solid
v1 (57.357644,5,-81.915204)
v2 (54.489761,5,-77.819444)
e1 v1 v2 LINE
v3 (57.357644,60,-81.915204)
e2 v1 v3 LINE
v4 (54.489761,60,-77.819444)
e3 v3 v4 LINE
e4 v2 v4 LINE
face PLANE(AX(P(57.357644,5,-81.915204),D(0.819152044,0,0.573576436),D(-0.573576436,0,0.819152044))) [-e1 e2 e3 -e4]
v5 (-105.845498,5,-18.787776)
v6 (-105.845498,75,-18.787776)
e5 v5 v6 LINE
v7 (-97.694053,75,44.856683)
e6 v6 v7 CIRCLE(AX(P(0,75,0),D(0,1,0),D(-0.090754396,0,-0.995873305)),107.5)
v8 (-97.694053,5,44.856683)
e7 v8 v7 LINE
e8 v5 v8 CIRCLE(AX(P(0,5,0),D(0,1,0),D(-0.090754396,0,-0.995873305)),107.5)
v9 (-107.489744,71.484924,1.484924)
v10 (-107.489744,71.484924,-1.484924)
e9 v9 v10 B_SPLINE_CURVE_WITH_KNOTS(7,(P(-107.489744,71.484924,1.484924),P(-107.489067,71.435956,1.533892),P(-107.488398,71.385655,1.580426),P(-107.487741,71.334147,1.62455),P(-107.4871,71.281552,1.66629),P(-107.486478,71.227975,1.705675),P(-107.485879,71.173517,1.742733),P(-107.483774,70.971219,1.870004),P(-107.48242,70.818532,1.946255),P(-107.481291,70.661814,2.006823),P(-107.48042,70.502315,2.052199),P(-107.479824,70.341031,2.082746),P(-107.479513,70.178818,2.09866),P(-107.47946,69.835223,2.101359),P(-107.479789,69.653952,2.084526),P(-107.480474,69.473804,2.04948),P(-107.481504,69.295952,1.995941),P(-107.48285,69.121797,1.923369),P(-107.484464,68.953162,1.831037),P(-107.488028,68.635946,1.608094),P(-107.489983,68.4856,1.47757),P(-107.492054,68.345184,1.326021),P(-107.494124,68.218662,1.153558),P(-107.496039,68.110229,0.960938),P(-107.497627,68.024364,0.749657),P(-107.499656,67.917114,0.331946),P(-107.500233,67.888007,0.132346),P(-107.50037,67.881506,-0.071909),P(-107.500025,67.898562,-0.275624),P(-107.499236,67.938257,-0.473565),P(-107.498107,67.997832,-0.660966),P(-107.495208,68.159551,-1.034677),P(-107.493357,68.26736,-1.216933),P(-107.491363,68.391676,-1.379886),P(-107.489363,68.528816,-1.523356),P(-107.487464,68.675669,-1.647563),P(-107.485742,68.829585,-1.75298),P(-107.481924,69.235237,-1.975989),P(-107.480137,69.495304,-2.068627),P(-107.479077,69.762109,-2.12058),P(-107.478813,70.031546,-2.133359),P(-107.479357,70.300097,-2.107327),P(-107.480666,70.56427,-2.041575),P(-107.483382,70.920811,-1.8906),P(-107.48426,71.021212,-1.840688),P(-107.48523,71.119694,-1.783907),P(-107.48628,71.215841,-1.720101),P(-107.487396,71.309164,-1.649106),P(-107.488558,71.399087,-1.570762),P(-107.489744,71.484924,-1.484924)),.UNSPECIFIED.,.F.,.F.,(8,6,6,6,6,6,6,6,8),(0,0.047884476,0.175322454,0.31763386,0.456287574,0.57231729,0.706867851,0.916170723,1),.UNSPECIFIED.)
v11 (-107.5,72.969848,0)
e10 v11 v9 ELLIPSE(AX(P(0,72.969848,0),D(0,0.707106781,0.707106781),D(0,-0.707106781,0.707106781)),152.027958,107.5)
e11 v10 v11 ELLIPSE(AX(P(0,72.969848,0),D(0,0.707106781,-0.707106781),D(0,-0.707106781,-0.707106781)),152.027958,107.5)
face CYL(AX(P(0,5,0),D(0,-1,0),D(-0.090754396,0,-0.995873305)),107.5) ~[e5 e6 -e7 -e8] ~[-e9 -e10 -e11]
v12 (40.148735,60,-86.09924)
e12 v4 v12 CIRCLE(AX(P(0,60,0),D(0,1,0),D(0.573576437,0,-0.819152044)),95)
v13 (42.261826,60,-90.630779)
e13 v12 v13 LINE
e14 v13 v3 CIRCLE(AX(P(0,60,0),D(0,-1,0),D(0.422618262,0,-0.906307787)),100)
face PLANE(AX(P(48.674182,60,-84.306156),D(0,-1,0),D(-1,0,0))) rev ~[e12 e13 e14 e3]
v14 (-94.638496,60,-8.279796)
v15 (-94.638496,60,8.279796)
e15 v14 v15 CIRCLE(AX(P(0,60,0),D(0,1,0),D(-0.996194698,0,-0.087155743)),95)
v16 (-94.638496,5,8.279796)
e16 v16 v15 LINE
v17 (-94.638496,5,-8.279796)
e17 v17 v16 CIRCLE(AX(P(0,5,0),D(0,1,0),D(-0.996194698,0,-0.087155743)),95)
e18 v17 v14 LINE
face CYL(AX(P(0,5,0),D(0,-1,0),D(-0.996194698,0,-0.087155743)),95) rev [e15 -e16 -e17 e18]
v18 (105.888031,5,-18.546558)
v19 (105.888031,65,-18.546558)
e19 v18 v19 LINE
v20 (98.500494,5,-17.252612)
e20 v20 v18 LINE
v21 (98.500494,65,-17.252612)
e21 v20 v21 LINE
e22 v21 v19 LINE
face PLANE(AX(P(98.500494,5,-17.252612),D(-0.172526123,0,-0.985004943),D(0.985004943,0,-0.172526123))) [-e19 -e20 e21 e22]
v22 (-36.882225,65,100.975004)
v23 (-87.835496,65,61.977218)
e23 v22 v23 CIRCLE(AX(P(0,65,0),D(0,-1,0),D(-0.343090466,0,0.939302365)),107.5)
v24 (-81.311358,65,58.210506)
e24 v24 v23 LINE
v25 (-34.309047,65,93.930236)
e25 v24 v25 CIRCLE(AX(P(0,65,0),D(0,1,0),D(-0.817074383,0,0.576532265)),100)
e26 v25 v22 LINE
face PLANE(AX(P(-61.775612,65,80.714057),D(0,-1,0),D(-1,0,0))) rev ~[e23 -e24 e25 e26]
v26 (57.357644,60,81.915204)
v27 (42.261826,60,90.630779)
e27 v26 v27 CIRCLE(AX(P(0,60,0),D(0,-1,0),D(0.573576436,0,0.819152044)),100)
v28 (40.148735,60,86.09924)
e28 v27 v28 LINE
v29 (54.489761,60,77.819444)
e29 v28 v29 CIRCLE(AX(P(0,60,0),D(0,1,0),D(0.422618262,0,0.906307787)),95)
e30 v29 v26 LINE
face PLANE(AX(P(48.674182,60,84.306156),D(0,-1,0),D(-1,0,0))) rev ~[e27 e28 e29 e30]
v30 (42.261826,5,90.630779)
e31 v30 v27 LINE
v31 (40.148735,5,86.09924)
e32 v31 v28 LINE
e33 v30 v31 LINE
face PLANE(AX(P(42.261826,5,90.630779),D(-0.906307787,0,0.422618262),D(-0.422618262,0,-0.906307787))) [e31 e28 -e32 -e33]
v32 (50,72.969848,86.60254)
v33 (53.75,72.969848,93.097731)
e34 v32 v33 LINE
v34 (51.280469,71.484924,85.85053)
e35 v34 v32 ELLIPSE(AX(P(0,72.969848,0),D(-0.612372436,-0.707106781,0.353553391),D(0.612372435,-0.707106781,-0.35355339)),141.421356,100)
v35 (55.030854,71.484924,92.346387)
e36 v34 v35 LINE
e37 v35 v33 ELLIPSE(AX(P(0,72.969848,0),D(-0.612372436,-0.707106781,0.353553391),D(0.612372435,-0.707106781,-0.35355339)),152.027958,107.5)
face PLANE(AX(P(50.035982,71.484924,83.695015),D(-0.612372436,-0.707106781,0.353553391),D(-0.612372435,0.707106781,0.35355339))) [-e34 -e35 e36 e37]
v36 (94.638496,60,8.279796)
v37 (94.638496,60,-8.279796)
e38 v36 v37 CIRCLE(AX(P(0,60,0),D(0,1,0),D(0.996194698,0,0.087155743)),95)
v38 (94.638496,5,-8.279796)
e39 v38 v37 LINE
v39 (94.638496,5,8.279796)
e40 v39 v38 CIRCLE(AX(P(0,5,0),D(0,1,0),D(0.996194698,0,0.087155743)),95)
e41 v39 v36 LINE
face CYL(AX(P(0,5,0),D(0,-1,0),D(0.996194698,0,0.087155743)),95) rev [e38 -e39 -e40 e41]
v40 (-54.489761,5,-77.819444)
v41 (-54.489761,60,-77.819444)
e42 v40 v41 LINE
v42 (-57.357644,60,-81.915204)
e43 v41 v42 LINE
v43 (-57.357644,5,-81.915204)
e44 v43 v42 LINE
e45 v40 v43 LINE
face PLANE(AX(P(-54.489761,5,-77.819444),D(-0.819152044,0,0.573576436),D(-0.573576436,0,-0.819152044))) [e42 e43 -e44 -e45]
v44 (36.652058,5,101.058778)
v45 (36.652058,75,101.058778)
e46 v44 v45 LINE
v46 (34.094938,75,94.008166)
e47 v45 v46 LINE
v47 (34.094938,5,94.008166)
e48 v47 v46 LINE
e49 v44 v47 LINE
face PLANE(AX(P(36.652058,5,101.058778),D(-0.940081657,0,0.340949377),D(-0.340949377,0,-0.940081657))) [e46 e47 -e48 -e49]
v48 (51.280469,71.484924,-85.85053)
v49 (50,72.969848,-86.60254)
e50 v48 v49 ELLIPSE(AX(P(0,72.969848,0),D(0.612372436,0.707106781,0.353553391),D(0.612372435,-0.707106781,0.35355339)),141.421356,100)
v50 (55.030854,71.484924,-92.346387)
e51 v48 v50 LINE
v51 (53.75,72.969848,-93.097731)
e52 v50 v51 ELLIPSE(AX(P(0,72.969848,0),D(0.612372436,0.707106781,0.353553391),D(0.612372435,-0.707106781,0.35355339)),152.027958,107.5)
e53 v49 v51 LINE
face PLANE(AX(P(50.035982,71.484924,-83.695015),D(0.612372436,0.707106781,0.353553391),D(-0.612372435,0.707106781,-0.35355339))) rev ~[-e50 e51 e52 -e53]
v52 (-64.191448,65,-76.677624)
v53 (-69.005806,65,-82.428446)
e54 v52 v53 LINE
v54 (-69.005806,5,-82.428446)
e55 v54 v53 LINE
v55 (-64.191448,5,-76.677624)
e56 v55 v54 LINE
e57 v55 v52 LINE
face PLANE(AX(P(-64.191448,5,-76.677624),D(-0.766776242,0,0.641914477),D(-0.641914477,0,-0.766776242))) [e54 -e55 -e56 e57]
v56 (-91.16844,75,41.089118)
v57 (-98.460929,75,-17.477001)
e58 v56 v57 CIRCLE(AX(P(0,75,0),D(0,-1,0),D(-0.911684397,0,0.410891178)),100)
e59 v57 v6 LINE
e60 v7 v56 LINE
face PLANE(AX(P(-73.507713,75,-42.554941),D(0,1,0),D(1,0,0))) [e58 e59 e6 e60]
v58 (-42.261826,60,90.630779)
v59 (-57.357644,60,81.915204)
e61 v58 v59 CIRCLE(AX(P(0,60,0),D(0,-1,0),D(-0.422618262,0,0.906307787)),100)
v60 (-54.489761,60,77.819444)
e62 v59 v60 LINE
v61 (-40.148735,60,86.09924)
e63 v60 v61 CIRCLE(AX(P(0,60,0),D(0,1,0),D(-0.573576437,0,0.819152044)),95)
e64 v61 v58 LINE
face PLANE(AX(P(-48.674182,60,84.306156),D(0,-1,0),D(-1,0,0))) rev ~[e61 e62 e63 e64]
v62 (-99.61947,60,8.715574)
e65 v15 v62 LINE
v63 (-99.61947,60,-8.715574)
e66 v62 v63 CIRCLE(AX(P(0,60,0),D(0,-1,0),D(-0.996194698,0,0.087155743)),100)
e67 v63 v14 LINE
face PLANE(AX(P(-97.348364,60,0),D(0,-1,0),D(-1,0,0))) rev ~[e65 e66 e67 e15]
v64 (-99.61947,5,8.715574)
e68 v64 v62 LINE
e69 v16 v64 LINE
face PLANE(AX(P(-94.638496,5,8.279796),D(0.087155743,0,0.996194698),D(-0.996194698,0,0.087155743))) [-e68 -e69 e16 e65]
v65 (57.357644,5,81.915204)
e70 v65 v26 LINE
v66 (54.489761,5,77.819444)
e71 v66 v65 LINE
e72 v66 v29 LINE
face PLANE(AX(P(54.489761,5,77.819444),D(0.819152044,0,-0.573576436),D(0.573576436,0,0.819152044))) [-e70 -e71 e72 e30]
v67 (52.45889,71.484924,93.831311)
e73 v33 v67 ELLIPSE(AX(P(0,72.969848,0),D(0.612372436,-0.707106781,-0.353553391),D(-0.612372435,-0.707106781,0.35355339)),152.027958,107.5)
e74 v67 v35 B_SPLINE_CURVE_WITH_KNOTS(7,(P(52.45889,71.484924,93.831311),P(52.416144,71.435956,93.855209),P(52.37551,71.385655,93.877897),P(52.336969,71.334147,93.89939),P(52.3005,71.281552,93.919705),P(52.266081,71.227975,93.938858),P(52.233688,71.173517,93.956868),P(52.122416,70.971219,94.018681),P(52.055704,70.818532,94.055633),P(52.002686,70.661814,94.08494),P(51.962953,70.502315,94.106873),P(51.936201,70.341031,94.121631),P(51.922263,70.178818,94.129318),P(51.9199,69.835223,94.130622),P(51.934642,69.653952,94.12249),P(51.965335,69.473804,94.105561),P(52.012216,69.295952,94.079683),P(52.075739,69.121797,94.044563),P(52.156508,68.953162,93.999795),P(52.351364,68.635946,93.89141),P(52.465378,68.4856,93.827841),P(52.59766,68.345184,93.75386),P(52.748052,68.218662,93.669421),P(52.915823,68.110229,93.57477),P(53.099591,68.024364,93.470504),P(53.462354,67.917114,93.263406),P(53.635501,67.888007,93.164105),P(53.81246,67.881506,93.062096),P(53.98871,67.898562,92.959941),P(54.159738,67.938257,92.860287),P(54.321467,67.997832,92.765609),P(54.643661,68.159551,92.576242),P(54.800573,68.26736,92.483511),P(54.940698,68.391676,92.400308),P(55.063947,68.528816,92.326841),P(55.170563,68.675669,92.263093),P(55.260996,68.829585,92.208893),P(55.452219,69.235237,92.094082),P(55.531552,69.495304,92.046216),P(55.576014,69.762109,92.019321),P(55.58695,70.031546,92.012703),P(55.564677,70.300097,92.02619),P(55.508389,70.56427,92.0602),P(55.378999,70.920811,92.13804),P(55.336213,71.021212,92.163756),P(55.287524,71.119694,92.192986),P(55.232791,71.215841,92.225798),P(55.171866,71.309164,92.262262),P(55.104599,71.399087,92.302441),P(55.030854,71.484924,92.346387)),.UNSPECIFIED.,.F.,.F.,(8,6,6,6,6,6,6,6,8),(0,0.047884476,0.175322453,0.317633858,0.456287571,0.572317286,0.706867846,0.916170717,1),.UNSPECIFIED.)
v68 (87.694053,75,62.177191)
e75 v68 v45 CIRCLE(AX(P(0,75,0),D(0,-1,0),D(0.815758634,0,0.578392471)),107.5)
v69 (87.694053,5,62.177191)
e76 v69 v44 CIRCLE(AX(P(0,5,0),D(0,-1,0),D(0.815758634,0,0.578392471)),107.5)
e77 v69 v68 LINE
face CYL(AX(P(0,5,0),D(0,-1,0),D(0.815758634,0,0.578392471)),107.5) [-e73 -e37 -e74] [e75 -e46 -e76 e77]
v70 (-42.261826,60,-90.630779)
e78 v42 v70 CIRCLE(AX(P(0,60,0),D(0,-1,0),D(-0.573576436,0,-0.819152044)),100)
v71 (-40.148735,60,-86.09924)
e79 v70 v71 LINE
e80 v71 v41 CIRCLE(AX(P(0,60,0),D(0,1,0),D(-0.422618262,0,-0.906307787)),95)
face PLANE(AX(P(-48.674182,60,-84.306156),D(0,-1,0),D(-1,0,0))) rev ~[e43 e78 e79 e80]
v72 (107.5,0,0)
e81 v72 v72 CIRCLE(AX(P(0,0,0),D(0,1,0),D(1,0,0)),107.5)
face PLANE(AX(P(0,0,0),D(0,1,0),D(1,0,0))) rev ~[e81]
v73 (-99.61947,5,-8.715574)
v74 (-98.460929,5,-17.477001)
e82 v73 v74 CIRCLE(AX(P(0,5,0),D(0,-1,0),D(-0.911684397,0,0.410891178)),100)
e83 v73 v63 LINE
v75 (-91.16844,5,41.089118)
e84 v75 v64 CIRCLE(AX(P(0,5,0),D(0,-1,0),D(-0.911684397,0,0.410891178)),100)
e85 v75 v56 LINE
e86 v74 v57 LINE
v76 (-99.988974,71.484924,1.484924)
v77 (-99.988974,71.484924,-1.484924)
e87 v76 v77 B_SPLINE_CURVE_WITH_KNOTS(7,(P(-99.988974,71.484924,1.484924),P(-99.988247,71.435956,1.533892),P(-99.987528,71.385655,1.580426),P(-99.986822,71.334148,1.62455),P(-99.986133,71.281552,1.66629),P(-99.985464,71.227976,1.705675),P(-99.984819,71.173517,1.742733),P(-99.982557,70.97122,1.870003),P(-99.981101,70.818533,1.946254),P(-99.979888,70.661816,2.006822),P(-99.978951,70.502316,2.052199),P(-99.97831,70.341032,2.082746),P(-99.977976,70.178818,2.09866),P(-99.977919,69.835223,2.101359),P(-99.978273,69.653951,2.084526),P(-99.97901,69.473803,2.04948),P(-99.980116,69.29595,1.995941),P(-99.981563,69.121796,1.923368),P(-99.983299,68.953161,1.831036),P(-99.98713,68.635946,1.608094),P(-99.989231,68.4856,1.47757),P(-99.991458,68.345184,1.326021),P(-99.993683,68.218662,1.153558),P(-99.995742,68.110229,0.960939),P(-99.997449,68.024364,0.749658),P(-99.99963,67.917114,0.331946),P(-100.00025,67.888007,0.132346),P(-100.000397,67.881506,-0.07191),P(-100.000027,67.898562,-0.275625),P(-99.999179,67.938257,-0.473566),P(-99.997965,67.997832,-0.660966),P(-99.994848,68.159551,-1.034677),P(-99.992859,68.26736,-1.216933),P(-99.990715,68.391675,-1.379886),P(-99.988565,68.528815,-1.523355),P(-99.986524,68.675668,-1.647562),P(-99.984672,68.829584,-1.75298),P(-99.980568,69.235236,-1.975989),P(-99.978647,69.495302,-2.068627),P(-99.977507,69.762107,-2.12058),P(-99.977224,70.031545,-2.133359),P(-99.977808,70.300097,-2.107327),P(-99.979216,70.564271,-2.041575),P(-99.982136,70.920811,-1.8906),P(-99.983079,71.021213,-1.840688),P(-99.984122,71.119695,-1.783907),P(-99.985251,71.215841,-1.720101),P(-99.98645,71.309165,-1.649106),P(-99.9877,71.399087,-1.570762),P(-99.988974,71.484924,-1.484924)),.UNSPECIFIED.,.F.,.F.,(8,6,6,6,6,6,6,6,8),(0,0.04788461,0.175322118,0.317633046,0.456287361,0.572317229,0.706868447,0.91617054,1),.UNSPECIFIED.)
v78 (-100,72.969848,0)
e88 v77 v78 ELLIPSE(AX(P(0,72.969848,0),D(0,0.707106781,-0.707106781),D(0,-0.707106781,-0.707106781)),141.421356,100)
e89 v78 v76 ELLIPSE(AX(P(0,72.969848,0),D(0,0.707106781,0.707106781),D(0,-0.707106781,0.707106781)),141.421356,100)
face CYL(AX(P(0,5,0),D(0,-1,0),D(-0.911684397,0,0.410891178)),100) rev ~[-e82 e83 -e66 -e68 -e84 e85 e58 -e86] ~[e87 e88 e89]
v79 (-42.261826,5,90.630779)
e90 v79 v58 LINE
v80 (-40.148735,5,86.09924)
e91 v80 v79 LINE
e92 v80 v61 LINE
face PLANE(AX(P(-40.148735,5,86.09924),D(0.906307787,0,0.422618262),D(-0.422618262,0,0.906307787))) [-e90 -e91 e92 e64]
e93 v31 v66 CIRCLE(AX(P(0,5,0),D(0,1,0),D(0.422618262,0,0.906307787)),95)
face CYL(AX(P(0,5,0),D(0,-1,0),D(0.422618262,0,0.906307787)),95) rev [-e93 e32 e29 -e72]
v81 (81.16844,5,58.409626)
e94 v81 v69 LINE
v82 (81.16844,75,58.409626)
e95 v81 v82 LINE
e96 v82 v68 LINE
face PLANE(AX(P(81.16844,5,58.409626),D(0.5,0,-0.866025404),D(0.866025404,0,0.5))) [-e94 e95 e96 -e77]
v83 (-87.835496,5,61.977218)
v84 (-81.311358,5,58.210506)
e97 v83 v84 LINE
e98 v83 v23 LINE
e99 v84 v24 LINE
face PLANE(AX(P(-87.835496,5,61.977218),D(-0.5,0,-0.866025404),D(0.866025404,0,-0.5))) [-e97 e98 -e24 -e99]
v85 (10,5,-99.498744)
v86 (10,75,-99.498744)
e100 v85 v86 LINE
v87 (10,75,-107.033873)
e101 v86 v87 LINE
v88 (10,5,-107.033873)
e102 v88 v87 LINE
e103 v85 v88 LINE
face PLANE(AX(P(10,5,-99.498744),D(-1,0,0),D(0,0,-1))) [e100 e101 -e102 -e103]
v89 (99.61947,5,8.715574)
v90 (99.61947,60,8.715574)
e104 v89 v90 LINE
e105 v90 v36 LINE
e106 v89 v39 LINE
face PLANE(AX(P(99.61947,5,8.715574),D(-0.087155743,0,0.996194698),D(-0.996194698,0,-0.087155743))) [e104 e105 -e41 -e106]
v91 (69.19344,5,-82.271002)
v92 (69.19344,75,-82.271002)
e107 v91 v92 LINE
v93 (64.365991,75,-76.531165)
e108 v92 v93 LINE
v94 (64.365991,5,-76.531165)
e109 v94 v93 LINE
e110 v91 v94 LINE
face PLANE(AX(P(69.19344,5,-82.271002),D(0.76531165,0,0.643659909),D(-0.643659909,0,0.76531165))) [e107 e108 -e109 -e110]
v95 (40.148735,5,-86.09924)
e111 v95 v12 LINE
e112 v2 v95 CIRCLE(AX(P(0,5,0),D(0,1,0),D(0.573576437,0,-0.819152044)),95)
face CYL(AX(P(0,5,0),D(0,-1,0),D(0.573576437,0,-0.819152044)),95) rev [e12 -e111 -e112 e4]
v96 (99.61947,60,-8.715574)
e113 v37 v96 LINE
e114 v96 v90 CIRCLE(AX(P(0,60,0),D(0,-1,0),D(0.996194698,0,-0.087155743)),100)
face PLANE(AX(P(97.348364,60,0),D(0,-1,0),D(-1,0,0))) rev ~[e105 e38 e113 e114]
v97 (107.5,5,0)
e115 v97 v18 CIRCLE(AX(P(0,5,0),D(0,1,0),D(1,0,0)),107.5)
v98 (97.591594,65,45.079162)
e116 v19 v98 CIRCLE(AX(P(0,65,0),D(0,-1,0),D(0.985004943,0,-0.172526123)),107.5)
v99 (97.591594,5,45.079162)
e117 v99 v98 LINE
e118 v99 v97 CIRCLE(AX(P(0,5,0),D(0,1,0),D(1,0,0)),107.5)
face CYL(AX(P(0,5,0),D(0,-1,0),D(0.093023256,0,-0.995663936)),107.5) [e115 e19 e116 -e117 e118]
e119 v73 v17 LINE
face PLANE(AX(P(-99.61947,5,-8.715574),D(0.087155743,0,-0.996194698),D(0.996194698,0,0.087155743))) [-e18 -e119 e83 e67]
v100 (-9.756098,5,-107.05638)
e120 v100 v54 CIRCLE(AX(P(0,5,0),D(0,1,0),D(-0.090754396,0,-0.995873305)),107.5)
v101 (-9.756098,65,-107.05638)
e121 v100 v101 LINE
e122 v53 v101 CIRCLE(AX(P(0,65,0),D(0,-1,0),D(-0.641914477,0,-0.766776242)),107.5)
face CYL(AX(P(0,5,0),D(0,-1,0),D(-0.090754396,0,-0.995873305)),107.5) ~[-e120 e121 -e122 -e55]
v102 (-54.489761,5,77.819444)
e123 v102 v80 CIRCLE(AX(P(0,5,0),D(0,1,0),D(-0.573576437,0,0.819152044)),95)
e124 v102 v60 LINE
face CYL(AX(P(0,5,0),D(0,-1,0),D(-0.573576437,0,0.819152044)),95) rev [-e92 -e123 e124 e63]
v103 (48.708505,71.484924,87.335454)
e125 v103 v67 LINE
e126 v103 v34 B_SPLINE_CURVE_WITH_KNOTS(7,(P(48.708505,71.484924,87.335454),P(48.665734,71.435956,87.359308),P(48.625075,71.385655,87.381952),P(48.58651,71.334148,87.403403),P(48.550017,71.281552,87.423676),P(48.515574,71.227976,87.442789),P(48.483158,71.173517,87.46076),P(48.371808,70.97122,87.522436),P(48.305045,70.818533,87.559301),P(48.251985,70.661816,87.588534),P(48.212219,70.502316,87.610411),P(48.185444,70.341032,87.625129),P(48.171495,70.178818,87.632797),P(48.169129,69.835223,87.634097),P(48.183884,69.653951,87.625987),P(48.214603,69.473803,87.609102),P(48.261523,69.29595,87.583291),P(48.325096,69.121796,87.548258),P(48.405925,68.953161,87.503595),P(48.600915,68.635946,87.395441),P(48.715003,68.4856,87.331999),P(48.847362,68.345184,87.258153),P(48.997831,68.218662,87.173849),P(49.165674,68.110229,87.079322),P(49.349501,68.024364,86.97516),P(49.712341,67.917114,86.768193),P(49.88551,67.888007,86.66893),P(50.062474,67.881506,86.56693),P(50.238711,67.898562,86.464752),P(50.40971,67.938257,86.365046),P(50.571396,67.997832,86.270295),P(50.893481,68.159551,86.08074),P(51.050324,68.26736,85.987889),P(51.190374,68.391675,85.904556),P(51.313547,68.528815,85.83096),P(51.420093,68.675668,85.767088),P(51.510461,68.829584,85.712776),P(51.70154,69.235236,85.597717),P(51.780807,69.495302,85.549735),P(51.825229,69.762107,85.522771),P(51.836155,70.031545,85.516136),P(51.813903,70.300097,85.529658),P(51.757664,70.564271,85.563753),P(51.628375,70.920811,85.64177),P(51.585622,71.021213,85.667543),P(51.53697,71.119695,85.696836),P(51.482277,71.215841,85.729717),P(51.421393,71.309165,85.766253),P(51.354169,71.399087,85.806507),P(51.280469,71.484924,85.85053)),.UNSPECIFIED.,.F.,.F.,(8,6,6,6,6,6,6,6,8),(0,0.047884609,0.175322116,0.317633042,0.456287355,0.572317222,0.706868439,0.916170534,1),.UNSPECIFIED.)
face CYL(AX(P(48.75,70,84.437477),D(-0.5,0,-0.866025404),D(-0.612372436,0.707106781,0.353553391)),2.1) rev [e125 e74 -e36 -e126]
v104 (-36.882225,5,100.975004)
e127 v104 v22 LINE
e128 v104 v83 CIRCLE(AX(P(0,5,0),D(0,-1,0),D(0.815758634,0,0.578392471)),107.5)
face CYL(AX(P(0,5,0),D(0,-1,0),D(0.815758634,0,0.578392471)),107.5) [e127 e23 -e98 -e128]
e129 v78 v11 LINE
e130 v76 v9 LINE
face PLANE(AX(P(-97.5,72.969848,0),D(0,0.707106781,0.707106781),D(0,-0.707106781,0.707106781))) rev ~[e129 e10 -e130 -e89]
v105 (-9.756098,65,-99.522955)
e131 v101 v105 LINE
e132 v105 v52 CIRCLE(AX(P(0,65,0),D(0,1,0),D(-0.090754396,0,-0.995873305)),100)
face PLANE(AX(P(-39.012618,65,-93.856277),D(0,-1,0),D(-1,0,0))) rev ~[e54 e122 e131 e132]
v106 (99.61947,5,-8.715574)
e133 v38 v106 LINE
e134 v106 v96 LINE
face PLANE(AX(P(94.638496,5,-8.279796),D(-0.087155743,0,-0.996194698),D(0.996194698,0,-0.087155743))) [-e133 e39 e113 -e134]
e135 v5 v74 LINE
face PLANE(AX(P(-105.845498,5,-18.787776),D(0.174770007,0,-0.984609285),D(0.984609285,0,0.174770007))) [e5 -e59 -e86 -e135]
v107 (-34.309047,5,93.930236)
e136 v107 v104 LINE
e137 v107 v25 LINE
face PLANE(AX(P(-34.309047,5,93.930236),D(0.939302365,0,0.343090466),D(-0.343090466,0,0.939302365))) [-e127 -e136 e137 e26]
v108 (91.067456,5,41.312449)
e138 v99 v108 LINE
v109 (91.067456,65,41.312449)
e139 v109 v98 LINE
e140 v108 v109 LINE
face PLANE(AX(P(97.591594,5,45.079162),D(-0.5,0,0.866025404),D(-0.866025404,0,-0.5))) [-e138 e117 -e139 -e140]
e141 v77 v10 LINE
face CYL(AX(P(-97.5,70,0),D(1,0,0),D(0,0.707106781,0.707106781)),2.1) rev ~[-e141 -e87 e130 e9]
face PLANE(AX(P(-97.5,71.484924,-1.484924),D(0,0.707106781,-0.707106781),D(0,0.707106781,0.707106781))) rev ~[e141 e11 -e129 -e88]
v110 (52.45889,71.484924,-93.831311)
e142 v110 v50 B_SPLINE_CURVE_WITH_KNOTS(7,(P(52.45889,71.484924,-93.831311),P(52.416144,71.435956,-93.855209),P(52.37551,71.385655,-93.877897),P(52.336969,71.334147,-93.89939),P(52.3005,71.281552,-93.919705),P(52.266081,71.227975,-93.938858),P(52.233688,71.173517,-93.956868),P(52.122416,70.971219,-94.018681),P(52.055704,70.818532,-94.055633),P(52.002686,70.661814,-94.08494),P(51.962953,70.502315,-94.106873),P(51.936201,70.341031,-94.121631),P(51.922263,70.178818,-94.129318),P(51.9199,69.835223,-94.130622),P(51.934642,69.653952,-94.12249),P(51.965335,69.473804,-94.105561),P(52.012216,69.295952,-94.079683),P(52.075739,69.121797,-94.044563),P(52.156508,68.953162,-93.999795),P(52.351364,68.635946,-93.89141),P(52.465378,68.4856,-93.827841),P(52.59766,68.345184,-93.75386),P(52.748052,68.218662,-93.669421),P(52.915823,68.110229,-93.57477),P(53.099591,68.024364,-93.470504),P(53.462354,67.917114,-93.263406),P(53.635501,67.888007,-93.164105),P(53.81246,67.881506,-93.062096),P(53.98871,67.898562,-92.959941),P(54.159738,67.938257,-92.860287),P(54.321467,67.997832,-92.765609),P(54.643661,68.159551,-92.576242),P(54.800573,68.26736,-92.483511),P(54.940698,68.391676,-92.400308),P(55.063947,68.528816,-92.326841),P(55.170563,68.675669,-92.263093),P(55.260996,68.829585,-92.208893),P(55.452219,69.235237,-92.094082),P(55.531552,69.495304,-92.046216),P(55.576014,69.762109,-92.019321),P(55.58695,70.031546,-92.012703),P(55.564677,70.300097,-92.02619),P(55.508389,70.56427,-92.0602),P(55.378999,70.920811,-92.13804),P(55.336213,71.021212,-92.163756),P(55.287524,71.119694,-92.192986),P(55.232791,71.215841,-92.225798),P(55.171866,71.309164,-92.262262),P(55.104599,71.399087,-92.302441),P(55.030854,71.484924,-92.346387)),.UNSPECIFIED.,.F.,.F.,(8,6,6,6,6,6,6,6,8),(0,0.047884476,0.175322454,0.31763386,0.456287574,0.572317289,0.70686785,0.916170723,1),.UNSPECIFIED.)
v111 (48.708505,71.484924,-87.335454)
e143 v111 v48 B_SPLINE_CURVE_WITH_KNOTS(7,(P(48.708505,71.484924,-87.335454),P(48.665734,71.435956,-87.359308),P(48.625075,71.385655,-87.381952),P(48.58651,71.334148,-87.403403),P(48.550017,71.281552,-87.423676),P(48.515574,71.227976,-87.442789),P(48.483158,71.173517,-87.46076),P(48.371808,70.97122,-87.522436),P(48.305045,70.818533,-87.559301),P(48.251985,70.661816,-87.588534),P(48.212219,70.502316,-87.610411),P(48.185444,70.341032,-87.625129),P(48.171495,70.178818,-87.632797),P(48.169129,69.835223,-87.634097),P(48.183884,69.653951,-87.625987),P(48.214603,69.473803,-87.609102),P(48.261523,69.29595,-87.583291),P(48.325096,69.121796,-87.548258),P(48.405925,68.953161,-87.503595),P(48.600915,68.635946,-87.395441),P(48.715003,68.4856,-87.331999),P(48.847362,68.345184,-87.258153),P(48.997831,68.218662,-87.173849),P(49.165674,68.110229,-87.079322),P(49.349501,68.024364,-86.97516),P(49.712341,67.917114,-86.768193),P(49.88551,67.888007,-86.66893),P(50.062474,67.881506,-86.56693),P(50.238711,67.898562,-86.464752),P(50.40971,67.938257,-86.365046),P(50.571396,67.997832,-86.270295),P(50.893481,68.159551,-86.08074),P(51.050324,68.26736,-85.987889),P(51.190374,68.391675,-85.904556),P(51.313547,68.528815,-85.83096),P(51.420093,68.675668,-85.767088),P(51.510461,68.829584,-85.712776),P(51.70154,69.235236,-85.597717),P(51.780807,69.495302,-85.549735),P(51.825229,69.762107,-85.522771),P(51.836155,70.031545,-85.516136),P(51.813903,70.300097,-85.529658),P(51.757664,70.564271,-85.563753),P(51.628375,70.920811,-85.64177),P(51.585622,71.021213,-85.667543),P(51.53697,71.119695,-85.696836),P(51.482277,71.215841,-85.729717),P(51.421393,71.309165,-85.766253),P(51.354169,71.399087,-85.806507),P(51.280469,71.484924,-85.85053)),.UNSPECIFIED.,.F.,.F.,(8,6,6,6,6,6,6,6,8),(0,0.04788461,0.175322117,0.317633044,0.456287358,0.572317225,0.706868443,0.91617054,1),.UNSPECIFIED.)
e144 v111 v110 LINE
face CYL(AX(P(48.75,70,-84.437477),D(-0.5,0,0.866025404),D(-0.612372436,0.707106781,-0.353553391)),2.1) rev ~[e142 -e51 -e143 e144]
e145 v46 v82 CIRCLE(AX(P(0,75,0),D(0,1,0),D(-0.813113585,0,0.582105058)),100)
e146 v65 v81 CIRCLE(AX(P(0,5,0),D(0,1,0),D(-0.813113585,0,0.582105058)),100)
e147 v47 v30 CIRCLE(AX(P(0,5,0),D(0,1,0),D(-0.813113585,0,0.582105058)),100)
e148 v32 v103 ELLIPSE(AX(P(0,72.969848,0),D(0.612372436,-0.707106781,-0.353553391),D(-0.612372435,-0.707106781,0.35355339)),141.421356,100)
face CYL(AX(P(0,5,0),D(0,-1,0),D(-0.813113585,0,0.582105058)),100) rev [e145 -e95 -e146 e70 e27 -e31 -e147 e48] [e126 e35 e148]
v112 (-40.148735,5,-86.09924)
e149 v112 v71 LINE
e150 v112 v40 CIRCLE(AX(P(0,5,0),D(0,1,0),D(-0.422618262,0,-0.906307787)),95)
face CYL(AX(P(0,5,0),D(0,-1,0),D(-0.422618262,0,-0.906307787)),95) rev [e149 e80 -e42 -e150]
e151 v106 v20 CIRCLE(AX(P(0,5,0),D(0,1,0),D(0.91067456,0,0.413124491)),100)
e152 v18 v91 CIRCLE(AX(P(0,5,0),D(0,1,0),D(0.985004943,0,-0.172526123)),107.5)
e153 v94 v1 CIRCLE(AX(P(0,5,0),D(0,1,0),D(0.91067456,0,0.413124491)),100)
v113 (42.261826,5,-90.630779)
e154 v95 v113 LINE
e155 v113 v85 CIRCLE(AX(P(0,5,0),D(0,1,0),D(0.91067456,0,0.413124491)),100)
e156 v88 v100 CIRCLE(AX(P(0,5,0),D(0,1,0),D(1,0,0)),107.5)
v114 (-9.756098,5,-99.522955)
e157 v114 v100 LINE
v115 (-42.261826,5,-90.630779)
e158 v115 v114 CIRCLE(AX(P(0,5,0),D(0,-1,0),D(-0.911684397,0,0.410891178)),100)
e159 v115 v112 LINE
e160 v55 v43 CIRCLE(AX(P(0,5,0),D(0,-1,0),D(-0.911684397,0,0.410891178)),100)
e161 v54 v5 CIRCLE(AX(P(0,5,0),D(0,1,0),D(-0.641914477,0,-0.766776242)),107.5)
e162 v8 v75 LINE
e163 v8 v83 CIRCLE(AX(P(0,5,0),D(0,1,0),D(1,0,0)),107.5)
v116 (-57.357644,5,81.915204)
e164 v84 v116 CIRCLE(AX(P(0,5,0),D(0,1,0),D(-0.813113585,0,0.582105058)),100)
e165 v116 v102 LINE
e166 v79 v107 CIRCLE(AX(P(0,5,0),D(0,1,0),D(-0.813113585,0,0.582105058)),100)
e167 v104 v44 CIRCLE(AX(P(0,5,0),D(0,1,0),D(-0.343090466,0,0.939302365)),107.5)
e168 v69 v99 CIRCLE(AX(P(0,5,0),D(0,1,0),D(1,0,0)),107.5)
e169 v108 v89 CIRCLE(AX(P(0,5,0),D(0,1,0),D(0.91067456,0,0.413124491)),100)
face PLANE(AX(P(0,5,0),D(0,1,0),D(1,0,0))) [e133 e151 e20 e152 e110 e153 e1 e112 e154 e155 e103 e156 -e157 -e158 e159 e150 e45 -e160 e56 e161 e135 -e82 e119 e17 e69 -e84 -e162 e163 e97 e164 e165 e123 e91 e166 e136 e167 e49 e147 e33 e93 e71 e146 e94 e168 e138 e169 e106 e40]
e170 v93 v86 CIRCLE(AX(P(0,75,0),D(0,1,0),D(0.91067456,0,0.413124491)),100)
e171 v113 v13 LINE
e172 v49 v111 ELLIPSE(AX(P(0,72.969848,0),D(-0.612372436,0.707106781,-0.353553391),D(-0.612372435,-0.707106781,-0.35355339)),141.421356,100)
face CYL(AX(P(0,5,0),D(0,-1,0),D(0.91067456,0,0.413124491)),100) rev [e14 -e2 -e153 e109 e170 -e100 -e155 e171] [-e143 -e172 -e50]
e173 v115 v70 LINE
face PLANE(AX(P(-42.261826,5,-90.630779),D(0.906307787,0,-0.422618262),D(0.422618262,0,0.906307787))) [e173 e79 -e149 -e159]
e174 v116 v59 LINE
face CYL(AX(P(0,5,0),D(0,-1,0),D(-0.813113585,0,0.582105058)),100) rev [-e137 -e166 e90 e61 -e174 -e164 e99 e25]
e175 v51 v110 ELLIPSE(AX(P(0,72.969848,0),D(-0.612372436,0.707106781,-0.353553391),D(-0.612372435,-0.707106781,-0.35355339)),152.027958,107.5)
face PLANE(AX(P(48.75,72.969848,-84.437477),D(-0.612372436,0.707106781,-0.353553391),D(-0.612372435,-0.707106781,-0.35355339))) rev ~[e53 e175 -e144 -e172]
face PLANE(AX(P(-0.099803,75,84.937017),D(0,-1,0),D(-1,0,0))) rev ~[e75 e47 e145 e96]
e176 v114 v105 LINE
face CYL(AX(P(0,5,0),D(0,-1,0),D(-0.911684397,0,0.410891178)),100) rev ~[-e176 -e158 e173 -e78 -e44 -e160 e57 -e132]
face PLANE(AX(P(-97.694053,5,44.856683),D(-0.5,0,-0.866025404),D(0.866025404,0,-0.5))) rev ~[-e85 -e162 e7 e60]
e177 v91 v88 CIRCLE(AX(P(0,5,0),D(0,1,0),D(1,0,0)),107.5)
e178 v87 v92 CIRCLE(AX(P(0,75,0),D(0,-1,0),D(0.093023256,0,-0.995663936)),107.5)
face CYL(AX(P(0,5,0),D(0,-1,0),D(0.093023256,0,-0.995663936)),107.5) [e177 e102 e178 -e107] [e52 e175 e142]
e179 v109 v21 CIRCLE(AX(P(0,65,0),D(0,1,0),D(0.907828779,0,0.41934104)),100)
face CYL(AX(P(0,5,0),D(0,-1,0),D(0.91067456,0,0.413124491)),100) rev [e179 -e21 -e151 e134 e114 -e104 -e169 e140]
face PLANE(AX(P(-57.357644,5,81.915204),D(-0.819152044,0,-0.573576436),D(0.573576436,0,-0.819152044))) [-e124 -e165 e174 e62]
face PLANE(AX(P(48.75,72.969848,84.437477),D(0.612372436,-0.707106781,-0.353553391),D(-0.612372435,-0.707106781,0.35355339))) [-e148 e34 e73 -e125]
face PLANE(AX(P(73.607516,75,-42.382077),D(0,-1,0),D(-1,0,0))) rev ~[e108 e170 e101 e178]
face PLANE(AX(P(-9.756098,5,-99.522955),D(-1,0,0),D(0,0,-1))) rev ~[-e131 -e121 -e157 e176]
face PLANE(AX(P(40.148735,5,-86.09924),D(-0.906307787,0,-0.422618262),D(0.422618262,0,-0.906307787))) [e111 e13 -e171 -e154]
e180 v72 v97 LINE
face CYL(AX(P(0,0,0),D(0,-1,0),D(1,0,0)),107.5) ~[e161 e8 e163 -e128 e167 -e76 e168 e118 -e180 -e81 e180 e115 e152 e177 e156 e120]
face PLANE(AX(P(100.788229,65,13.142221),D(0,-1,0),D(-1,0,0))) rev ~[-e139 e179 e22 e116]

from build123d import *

# Parameters (mm, degrees)
SKETCH1_R               = 107.5
BOSS_EXTRUDE1_DEPTH     = 5
BOSS_EXTRUDE2_DEPTH     = 70
CUT_EXTRUDE2_DEPTH      = 10
CUT_EXTRUDE2_DEPTH_BACK = 10
BOSS_EXTRUDE4_DEPTH     = 55
CUT_EXTRUDE3_DEPTH      = 10
CUT_EXTRUDE3_DEPTH_BACK = 10
CUT_EXTRUDE4_DEPTH      = 10
CUT_EXTRUDE4_DEPTH_BACK = 10
CUT_EXTRUDE5_DEPTH      = 80
CUT_EXTRUDE6_START      = -10
CUT_EXTRUDE6_DEPTH      = 10


with BuildPart() as part:
    # Sketch1 → Boss-Extrude1 (new body)
    with BuildSketch(Plane(origin=(0, 0, 0), x_dir=(1, 0, 0), z_dir=(0, 1, 0))):
        Circle(SKETCH1_R)
    extrude(amount=BOSS_EXTRUDE1_DEPTH)

    # Sketch2 → Boss-Extrude2 (add)
    with BuildSketch(Plane(origin=(0, 5, 0), x_dir=(1, 0, 0), z_dir=(0, 1, 0))):
        with BuildLine():
            Line((-9.756097561, 99.522954942), (-9.756097561, 107.056380288))
            ThreePointArc((-9.756097561, 107.056380288), (-93.036435814, 53.856026692), (-97.694053207, -44.856682534))
            Line((-97.694053207, -44.856682534), (-91.168439698, -41.089117817))
            ThreePointArc((-91.168439698, -41.089117817), (-86.541200053, 50.106094373), (-9.756097561, 99.522954942))
        make_face()
        with BuildLine():
            Line((10, 99.498743711), (10, 107.033873143))
            ThreePointArc((10, 107.033873143), (93.158905169, 53.643903547), (97.591593747, -45.079161814))
            Line((97.591593747, -45.079161814), (91.06745602, -41.312449141))
            ThreePointArc((91.06745602, -41.312449141), (86.663750638, 49.893830534), (10, 99.498743711))
        make_face()
        with BuildLine():
            Line((81.168439698, -58.409625893), (87.694053207, -62.177190609))
            ThreePointArc((87.694053207, -62.177190609), (-0.122469355, -107.499930238), (-87.835496186, -61.977218474))
            Line((-87.835496186, -61.977218474), (-81.311358459, -58.210505801))
            ThreePointArc((-81.311358459, -58.210505801), (-0.122550585, -99.999924907), (81.168439698, -58.409625893))
        make_face()
    extrude(amount=BOSS_EXTRUDE2_DEPTH)

    # Sketch4 → Cut-Extrude2 (cut, two sides: drawn at the far end of the back side and taken through both)
    with BuildSketch(Plane.ZY.offset(107.5).offset(-CUT_EXTRUDE2_DEPTH_BACK)):
        with BuildLine():
            Line((-1.48492424, 71.48492424), (0, 72.969848481))
            Line((0, 72.969848481), (1.48492424, 71.48492424))
            ThreePointArc((1.48492424, 71.48492424), (0, 67.9), (-1.48492424, 71.48492424))
        make_face()
    extrude(amount=CUT_EXTRUDE2_DEPTH + CUT_EXTRUDE2_DEPTH_BACK, mode=Mode.SUBTRACT)

    # Sketch6 → Boss-Extrude4 (add)
    with BuildSketch(Plane(origin=(0, 5, 0), x_dir=(1, 0, 0), z_dir=(0, 1, 0))):
        with BuildLine():
            Line((94.638496319, 8.279795561), (99.619469809, 8.715574275))
            ThreePointArc((99.619469809, 8.715574275), (100, 0), (99.619469809, -8.715574275))
            Line((99.619469809, -8.715574275), (94.638496319, -8.279795561))
            ThreePointArc((94.638496319, -8.279795561), (95, 0), (94.638496319, 8.279795561))
        make_face()
        with BuildLine():
            Line((54.489761453, -77.819444207), (57.357643635, -81.915204429))
            ThreePointArc((57.357643635, -81.915204429), (50, -86.602540378), (42.261826174, -90.630778704))
            Line((42.261826174, -90.630778704), (40.148734865, -86.099239768))
            ThreePointArc((40.148734865, -86.099239768), (47.5, -82.27241336), (54.489761453, -77.819444207))
        make_face()
        with BuildLine():
            Line((-40.148734865, -86.099239768), (-42.261826174, -90.630778704))
            ThreePointArc((-42.261826174, -90.630778704), (-50, -86.602540378), (-57.357643635, -81.915204429))
            Line((-57.357643635, -81.915204429), (-54.489761453, -77.819444207))
            ThreePointArc((-54.489761453, -77.819444207), (-47.5, -82.27241336), (-40.148734865, -86.099239768))
        make_face()
        with BuildLine():
            Line((-94.638496319, -8.279795561), (-99.619469809, -8.715574275))
            ThreePointArc((-99.619469809, -8.715574275), (-100, 0), (-99.619469809, 8.715574275))
            Line((-99.619469809, 8.715574275), (-94.638496319, 8.279795561))
            ThreePointArc((-94.638496319, 8.279795561), (-95, 0), (-94.638496319, -8.279795561))
        make_face()
        with BuildLine():
            Line((-54.489761453, 77.819444207), (-57.357643635, 81.915204429))
            ThreePointArc((-57.357643635, 81.915204429), (-50, 86.602540378), (-42.261826174, 90.630778704))
            Line((-42.261826174, 90.630778704), (-40.148734865, 86.099239768))
            ThreePointArc((-40.148734865, 86.099239768), (-47.5, 82.27241336), (-54.489761453, 77.819444207))
        make_face()
        with BuildLine():
            Line((40.148734865, 86.099239768), (42.261826174, 90.630778704))
            ThreePointArc((42.261826174, 90.630778704), (50, 86.602540378), (57.357643635, 81.915204429))
            Line((57.357643635, 81.915204429), (54.489761453, 77.819444207))
            ThreePointArc((54.489761453, 77.819444207), (47.5, 82.27241336), (40.148734865, 86.099239768))
        make_face()
    extrude(amount=BOSS_EXTRUDE4_DEPTH)

    # Sketch7 → Cut-Extrude3 (cut, two sides: drawn at the far end of the back side and taken through both)
    with BuildSketch(Plane(origin=(53.75, 0, 93.097730907), x_dir=(0.8660254037844344, 0, -0.5000000000000075), z_dir=(0.5000000000000075, 0, 0.8660254037844344)).offset(-CUT_EXTRUDE3_DEPTH_BACK)):
        with BuildLine():
            Line((0, 72.969848481), (-1.48492424, 71.48492424))
            ThreePointArc((-1.48492424, 71.48492424), (0, 67.9), (1.48492424, 71.48492424))
            Line((1.48492424, 71.48492424), (0, 72.969848481))
        make_face()
    extrude(amount=CUT_EXTRUDE3_DEPTH + CUT_EXTRUDE3_DEPTH_BACK, mode=Mode.SUBTRACT)

    # Sketch8 → Cut-Extrude4 (cut, two sides: drawn at the far end of the back side and taken through both)
    with BuildSketch(Plane(origin=(53.75, 0, -93.097730907), x_dir=(-0.8660254037844379, 0, -0.5000000000000013), z_dir=(0.5000000000000012, 0, -0.8660254037844378)).offset(-CUT_EXTRUDE4_DEPTH_BACK)):
        with BuildLine():
            Line((-1.48492424, 71.48492424), (0, 72.969848481))
            Line((0, 72.969848481), (1.48492424, 71.48492424))
            ThreePointArc((1.48492424, 71.48492424), (0, 67.9), (-1.48492424, 71.48492424))
        make_face()
    extrude(amount=CUT_EXTRUDE4_DEPTH + CUT_EXTRUDE4_DEPTH_BACK, mode=Mode.SUBTRACT)

    # Sketch10 → Cut-Extrude5 (cut)
    with BuildSketch(Plane(origin=(0, 5, 0), x_dir=(1, 0, 0), z_dir=(0, 1, 0))):
        with BuildLine():
            Line((-34.309046601, -93.930236459), (-36.882225096, -100.975004194))
            ThreePointArc((-36.882225096, -100.975004194), (-0.122469355, -107.499930238), (36.652057999, -101.058778166))
            Line((36.652057999, -101.058778166), (34.094937673, -94.008165736))
            ThreePointArc((34.094937673, -94.008165736), (-0.113924981, -99.999935105), (-34.309046601, -93.930236459))
        make_face()
        with BuildLine():
            Line((-64.191447657, 76.677624166), (-69.005806231, 82.428445979))
            ThreePointArc((-69.005806231, 82.428445979), (-93.036435814, 53.856026692), (-105.845498167, 18.787775755))
            Line((-105.845498167, 18.787775755), (-98.460928527, 17.477000703))
            ThreePointArc((-98.460928527, 17.477000703), (-86.545521688, 50.09862948), (-64.191447657, 76.677624166))
        make_face()
        with BuildLine():
            Line((98.500494258, 17.252612293), (105.888031327, 18.546558215))
            ThreePointArc((105.888031327, 18.546558215), (93.158905169, 53.643903547), (69.193440168, 82.271002411))
            Line((69.193440168, 82.271002411), (64.365990854, 76.531165034))
            ThreePointArc((64.365990854, 76.531165034), (86.659446669, 49.901305625), (98.500494258, 17.252612293))
        make_face()
    extrude(amount=CUT_EXTRUDE5_DEPTH, mode=Mode.SUBTRACT)

    # Sketch11 → Cut-Extrude6 (cut)
    with BuildSketch(Plane(origin=(0, 75, 0), x_dir=(1, 0, 0), z_dir=(0, 1, 0)).offset(CUT_EXTRUDE6_START)):
        with BuildLine():
            Line((-64.191447657, 76.677624166), (-69.005806231, 82.428445979))
            ThreePointArc((-69.005806231, 82.428445979), (-41.261279177, 99.266091092), (-9.756097561, 107.056380288))
            Line((-9.756097561, 107.056380288), (-9.075439592, 99.587330501))
            ThreePointArc((-9.075439592, 99.587330501), (-38.382585281, 92.340549853), (-64.191447657, 76.677624166))
        make_face()
        with BuildLine():
            Line((98.500494258, 17.252612293), (105.888031327, 18.546558215))
            ThreePointArc((105.888031327, 18.546558215), (106.597596209, -13.899729586), (97.591593747, -45.079161814))
            Line((97.591593747, -45.079161814), (90.782877904, -41.934104013))
            ThreePointArc((90.782877904, -41.934104013), (99.160554613, -12.92998101), (98.500494258, 17.252612293))
        make_face()
        with BuildLine():
            Line((-34.309046601, -93.930236459), (-36.882225096, -100.975004194))
            ThreePointArc((-36.882225096, -100.975004194), (-65.336317032, -85.366361506), (-87.835496186, -61.977218474))
            Line((-87.835496186, -61.977218474), (-81.707438313, -57.653226487))
            ThreePointArc((-81.707438313, -57.653226487), (-60.777969332, -79.410568843), (-34.309046601, -93.930236459))
        make_face()
    extrude(amount=CUT_EXTRUDE6_DEPTH, mode=Mode.SUBTRACT)


solid = part.part
